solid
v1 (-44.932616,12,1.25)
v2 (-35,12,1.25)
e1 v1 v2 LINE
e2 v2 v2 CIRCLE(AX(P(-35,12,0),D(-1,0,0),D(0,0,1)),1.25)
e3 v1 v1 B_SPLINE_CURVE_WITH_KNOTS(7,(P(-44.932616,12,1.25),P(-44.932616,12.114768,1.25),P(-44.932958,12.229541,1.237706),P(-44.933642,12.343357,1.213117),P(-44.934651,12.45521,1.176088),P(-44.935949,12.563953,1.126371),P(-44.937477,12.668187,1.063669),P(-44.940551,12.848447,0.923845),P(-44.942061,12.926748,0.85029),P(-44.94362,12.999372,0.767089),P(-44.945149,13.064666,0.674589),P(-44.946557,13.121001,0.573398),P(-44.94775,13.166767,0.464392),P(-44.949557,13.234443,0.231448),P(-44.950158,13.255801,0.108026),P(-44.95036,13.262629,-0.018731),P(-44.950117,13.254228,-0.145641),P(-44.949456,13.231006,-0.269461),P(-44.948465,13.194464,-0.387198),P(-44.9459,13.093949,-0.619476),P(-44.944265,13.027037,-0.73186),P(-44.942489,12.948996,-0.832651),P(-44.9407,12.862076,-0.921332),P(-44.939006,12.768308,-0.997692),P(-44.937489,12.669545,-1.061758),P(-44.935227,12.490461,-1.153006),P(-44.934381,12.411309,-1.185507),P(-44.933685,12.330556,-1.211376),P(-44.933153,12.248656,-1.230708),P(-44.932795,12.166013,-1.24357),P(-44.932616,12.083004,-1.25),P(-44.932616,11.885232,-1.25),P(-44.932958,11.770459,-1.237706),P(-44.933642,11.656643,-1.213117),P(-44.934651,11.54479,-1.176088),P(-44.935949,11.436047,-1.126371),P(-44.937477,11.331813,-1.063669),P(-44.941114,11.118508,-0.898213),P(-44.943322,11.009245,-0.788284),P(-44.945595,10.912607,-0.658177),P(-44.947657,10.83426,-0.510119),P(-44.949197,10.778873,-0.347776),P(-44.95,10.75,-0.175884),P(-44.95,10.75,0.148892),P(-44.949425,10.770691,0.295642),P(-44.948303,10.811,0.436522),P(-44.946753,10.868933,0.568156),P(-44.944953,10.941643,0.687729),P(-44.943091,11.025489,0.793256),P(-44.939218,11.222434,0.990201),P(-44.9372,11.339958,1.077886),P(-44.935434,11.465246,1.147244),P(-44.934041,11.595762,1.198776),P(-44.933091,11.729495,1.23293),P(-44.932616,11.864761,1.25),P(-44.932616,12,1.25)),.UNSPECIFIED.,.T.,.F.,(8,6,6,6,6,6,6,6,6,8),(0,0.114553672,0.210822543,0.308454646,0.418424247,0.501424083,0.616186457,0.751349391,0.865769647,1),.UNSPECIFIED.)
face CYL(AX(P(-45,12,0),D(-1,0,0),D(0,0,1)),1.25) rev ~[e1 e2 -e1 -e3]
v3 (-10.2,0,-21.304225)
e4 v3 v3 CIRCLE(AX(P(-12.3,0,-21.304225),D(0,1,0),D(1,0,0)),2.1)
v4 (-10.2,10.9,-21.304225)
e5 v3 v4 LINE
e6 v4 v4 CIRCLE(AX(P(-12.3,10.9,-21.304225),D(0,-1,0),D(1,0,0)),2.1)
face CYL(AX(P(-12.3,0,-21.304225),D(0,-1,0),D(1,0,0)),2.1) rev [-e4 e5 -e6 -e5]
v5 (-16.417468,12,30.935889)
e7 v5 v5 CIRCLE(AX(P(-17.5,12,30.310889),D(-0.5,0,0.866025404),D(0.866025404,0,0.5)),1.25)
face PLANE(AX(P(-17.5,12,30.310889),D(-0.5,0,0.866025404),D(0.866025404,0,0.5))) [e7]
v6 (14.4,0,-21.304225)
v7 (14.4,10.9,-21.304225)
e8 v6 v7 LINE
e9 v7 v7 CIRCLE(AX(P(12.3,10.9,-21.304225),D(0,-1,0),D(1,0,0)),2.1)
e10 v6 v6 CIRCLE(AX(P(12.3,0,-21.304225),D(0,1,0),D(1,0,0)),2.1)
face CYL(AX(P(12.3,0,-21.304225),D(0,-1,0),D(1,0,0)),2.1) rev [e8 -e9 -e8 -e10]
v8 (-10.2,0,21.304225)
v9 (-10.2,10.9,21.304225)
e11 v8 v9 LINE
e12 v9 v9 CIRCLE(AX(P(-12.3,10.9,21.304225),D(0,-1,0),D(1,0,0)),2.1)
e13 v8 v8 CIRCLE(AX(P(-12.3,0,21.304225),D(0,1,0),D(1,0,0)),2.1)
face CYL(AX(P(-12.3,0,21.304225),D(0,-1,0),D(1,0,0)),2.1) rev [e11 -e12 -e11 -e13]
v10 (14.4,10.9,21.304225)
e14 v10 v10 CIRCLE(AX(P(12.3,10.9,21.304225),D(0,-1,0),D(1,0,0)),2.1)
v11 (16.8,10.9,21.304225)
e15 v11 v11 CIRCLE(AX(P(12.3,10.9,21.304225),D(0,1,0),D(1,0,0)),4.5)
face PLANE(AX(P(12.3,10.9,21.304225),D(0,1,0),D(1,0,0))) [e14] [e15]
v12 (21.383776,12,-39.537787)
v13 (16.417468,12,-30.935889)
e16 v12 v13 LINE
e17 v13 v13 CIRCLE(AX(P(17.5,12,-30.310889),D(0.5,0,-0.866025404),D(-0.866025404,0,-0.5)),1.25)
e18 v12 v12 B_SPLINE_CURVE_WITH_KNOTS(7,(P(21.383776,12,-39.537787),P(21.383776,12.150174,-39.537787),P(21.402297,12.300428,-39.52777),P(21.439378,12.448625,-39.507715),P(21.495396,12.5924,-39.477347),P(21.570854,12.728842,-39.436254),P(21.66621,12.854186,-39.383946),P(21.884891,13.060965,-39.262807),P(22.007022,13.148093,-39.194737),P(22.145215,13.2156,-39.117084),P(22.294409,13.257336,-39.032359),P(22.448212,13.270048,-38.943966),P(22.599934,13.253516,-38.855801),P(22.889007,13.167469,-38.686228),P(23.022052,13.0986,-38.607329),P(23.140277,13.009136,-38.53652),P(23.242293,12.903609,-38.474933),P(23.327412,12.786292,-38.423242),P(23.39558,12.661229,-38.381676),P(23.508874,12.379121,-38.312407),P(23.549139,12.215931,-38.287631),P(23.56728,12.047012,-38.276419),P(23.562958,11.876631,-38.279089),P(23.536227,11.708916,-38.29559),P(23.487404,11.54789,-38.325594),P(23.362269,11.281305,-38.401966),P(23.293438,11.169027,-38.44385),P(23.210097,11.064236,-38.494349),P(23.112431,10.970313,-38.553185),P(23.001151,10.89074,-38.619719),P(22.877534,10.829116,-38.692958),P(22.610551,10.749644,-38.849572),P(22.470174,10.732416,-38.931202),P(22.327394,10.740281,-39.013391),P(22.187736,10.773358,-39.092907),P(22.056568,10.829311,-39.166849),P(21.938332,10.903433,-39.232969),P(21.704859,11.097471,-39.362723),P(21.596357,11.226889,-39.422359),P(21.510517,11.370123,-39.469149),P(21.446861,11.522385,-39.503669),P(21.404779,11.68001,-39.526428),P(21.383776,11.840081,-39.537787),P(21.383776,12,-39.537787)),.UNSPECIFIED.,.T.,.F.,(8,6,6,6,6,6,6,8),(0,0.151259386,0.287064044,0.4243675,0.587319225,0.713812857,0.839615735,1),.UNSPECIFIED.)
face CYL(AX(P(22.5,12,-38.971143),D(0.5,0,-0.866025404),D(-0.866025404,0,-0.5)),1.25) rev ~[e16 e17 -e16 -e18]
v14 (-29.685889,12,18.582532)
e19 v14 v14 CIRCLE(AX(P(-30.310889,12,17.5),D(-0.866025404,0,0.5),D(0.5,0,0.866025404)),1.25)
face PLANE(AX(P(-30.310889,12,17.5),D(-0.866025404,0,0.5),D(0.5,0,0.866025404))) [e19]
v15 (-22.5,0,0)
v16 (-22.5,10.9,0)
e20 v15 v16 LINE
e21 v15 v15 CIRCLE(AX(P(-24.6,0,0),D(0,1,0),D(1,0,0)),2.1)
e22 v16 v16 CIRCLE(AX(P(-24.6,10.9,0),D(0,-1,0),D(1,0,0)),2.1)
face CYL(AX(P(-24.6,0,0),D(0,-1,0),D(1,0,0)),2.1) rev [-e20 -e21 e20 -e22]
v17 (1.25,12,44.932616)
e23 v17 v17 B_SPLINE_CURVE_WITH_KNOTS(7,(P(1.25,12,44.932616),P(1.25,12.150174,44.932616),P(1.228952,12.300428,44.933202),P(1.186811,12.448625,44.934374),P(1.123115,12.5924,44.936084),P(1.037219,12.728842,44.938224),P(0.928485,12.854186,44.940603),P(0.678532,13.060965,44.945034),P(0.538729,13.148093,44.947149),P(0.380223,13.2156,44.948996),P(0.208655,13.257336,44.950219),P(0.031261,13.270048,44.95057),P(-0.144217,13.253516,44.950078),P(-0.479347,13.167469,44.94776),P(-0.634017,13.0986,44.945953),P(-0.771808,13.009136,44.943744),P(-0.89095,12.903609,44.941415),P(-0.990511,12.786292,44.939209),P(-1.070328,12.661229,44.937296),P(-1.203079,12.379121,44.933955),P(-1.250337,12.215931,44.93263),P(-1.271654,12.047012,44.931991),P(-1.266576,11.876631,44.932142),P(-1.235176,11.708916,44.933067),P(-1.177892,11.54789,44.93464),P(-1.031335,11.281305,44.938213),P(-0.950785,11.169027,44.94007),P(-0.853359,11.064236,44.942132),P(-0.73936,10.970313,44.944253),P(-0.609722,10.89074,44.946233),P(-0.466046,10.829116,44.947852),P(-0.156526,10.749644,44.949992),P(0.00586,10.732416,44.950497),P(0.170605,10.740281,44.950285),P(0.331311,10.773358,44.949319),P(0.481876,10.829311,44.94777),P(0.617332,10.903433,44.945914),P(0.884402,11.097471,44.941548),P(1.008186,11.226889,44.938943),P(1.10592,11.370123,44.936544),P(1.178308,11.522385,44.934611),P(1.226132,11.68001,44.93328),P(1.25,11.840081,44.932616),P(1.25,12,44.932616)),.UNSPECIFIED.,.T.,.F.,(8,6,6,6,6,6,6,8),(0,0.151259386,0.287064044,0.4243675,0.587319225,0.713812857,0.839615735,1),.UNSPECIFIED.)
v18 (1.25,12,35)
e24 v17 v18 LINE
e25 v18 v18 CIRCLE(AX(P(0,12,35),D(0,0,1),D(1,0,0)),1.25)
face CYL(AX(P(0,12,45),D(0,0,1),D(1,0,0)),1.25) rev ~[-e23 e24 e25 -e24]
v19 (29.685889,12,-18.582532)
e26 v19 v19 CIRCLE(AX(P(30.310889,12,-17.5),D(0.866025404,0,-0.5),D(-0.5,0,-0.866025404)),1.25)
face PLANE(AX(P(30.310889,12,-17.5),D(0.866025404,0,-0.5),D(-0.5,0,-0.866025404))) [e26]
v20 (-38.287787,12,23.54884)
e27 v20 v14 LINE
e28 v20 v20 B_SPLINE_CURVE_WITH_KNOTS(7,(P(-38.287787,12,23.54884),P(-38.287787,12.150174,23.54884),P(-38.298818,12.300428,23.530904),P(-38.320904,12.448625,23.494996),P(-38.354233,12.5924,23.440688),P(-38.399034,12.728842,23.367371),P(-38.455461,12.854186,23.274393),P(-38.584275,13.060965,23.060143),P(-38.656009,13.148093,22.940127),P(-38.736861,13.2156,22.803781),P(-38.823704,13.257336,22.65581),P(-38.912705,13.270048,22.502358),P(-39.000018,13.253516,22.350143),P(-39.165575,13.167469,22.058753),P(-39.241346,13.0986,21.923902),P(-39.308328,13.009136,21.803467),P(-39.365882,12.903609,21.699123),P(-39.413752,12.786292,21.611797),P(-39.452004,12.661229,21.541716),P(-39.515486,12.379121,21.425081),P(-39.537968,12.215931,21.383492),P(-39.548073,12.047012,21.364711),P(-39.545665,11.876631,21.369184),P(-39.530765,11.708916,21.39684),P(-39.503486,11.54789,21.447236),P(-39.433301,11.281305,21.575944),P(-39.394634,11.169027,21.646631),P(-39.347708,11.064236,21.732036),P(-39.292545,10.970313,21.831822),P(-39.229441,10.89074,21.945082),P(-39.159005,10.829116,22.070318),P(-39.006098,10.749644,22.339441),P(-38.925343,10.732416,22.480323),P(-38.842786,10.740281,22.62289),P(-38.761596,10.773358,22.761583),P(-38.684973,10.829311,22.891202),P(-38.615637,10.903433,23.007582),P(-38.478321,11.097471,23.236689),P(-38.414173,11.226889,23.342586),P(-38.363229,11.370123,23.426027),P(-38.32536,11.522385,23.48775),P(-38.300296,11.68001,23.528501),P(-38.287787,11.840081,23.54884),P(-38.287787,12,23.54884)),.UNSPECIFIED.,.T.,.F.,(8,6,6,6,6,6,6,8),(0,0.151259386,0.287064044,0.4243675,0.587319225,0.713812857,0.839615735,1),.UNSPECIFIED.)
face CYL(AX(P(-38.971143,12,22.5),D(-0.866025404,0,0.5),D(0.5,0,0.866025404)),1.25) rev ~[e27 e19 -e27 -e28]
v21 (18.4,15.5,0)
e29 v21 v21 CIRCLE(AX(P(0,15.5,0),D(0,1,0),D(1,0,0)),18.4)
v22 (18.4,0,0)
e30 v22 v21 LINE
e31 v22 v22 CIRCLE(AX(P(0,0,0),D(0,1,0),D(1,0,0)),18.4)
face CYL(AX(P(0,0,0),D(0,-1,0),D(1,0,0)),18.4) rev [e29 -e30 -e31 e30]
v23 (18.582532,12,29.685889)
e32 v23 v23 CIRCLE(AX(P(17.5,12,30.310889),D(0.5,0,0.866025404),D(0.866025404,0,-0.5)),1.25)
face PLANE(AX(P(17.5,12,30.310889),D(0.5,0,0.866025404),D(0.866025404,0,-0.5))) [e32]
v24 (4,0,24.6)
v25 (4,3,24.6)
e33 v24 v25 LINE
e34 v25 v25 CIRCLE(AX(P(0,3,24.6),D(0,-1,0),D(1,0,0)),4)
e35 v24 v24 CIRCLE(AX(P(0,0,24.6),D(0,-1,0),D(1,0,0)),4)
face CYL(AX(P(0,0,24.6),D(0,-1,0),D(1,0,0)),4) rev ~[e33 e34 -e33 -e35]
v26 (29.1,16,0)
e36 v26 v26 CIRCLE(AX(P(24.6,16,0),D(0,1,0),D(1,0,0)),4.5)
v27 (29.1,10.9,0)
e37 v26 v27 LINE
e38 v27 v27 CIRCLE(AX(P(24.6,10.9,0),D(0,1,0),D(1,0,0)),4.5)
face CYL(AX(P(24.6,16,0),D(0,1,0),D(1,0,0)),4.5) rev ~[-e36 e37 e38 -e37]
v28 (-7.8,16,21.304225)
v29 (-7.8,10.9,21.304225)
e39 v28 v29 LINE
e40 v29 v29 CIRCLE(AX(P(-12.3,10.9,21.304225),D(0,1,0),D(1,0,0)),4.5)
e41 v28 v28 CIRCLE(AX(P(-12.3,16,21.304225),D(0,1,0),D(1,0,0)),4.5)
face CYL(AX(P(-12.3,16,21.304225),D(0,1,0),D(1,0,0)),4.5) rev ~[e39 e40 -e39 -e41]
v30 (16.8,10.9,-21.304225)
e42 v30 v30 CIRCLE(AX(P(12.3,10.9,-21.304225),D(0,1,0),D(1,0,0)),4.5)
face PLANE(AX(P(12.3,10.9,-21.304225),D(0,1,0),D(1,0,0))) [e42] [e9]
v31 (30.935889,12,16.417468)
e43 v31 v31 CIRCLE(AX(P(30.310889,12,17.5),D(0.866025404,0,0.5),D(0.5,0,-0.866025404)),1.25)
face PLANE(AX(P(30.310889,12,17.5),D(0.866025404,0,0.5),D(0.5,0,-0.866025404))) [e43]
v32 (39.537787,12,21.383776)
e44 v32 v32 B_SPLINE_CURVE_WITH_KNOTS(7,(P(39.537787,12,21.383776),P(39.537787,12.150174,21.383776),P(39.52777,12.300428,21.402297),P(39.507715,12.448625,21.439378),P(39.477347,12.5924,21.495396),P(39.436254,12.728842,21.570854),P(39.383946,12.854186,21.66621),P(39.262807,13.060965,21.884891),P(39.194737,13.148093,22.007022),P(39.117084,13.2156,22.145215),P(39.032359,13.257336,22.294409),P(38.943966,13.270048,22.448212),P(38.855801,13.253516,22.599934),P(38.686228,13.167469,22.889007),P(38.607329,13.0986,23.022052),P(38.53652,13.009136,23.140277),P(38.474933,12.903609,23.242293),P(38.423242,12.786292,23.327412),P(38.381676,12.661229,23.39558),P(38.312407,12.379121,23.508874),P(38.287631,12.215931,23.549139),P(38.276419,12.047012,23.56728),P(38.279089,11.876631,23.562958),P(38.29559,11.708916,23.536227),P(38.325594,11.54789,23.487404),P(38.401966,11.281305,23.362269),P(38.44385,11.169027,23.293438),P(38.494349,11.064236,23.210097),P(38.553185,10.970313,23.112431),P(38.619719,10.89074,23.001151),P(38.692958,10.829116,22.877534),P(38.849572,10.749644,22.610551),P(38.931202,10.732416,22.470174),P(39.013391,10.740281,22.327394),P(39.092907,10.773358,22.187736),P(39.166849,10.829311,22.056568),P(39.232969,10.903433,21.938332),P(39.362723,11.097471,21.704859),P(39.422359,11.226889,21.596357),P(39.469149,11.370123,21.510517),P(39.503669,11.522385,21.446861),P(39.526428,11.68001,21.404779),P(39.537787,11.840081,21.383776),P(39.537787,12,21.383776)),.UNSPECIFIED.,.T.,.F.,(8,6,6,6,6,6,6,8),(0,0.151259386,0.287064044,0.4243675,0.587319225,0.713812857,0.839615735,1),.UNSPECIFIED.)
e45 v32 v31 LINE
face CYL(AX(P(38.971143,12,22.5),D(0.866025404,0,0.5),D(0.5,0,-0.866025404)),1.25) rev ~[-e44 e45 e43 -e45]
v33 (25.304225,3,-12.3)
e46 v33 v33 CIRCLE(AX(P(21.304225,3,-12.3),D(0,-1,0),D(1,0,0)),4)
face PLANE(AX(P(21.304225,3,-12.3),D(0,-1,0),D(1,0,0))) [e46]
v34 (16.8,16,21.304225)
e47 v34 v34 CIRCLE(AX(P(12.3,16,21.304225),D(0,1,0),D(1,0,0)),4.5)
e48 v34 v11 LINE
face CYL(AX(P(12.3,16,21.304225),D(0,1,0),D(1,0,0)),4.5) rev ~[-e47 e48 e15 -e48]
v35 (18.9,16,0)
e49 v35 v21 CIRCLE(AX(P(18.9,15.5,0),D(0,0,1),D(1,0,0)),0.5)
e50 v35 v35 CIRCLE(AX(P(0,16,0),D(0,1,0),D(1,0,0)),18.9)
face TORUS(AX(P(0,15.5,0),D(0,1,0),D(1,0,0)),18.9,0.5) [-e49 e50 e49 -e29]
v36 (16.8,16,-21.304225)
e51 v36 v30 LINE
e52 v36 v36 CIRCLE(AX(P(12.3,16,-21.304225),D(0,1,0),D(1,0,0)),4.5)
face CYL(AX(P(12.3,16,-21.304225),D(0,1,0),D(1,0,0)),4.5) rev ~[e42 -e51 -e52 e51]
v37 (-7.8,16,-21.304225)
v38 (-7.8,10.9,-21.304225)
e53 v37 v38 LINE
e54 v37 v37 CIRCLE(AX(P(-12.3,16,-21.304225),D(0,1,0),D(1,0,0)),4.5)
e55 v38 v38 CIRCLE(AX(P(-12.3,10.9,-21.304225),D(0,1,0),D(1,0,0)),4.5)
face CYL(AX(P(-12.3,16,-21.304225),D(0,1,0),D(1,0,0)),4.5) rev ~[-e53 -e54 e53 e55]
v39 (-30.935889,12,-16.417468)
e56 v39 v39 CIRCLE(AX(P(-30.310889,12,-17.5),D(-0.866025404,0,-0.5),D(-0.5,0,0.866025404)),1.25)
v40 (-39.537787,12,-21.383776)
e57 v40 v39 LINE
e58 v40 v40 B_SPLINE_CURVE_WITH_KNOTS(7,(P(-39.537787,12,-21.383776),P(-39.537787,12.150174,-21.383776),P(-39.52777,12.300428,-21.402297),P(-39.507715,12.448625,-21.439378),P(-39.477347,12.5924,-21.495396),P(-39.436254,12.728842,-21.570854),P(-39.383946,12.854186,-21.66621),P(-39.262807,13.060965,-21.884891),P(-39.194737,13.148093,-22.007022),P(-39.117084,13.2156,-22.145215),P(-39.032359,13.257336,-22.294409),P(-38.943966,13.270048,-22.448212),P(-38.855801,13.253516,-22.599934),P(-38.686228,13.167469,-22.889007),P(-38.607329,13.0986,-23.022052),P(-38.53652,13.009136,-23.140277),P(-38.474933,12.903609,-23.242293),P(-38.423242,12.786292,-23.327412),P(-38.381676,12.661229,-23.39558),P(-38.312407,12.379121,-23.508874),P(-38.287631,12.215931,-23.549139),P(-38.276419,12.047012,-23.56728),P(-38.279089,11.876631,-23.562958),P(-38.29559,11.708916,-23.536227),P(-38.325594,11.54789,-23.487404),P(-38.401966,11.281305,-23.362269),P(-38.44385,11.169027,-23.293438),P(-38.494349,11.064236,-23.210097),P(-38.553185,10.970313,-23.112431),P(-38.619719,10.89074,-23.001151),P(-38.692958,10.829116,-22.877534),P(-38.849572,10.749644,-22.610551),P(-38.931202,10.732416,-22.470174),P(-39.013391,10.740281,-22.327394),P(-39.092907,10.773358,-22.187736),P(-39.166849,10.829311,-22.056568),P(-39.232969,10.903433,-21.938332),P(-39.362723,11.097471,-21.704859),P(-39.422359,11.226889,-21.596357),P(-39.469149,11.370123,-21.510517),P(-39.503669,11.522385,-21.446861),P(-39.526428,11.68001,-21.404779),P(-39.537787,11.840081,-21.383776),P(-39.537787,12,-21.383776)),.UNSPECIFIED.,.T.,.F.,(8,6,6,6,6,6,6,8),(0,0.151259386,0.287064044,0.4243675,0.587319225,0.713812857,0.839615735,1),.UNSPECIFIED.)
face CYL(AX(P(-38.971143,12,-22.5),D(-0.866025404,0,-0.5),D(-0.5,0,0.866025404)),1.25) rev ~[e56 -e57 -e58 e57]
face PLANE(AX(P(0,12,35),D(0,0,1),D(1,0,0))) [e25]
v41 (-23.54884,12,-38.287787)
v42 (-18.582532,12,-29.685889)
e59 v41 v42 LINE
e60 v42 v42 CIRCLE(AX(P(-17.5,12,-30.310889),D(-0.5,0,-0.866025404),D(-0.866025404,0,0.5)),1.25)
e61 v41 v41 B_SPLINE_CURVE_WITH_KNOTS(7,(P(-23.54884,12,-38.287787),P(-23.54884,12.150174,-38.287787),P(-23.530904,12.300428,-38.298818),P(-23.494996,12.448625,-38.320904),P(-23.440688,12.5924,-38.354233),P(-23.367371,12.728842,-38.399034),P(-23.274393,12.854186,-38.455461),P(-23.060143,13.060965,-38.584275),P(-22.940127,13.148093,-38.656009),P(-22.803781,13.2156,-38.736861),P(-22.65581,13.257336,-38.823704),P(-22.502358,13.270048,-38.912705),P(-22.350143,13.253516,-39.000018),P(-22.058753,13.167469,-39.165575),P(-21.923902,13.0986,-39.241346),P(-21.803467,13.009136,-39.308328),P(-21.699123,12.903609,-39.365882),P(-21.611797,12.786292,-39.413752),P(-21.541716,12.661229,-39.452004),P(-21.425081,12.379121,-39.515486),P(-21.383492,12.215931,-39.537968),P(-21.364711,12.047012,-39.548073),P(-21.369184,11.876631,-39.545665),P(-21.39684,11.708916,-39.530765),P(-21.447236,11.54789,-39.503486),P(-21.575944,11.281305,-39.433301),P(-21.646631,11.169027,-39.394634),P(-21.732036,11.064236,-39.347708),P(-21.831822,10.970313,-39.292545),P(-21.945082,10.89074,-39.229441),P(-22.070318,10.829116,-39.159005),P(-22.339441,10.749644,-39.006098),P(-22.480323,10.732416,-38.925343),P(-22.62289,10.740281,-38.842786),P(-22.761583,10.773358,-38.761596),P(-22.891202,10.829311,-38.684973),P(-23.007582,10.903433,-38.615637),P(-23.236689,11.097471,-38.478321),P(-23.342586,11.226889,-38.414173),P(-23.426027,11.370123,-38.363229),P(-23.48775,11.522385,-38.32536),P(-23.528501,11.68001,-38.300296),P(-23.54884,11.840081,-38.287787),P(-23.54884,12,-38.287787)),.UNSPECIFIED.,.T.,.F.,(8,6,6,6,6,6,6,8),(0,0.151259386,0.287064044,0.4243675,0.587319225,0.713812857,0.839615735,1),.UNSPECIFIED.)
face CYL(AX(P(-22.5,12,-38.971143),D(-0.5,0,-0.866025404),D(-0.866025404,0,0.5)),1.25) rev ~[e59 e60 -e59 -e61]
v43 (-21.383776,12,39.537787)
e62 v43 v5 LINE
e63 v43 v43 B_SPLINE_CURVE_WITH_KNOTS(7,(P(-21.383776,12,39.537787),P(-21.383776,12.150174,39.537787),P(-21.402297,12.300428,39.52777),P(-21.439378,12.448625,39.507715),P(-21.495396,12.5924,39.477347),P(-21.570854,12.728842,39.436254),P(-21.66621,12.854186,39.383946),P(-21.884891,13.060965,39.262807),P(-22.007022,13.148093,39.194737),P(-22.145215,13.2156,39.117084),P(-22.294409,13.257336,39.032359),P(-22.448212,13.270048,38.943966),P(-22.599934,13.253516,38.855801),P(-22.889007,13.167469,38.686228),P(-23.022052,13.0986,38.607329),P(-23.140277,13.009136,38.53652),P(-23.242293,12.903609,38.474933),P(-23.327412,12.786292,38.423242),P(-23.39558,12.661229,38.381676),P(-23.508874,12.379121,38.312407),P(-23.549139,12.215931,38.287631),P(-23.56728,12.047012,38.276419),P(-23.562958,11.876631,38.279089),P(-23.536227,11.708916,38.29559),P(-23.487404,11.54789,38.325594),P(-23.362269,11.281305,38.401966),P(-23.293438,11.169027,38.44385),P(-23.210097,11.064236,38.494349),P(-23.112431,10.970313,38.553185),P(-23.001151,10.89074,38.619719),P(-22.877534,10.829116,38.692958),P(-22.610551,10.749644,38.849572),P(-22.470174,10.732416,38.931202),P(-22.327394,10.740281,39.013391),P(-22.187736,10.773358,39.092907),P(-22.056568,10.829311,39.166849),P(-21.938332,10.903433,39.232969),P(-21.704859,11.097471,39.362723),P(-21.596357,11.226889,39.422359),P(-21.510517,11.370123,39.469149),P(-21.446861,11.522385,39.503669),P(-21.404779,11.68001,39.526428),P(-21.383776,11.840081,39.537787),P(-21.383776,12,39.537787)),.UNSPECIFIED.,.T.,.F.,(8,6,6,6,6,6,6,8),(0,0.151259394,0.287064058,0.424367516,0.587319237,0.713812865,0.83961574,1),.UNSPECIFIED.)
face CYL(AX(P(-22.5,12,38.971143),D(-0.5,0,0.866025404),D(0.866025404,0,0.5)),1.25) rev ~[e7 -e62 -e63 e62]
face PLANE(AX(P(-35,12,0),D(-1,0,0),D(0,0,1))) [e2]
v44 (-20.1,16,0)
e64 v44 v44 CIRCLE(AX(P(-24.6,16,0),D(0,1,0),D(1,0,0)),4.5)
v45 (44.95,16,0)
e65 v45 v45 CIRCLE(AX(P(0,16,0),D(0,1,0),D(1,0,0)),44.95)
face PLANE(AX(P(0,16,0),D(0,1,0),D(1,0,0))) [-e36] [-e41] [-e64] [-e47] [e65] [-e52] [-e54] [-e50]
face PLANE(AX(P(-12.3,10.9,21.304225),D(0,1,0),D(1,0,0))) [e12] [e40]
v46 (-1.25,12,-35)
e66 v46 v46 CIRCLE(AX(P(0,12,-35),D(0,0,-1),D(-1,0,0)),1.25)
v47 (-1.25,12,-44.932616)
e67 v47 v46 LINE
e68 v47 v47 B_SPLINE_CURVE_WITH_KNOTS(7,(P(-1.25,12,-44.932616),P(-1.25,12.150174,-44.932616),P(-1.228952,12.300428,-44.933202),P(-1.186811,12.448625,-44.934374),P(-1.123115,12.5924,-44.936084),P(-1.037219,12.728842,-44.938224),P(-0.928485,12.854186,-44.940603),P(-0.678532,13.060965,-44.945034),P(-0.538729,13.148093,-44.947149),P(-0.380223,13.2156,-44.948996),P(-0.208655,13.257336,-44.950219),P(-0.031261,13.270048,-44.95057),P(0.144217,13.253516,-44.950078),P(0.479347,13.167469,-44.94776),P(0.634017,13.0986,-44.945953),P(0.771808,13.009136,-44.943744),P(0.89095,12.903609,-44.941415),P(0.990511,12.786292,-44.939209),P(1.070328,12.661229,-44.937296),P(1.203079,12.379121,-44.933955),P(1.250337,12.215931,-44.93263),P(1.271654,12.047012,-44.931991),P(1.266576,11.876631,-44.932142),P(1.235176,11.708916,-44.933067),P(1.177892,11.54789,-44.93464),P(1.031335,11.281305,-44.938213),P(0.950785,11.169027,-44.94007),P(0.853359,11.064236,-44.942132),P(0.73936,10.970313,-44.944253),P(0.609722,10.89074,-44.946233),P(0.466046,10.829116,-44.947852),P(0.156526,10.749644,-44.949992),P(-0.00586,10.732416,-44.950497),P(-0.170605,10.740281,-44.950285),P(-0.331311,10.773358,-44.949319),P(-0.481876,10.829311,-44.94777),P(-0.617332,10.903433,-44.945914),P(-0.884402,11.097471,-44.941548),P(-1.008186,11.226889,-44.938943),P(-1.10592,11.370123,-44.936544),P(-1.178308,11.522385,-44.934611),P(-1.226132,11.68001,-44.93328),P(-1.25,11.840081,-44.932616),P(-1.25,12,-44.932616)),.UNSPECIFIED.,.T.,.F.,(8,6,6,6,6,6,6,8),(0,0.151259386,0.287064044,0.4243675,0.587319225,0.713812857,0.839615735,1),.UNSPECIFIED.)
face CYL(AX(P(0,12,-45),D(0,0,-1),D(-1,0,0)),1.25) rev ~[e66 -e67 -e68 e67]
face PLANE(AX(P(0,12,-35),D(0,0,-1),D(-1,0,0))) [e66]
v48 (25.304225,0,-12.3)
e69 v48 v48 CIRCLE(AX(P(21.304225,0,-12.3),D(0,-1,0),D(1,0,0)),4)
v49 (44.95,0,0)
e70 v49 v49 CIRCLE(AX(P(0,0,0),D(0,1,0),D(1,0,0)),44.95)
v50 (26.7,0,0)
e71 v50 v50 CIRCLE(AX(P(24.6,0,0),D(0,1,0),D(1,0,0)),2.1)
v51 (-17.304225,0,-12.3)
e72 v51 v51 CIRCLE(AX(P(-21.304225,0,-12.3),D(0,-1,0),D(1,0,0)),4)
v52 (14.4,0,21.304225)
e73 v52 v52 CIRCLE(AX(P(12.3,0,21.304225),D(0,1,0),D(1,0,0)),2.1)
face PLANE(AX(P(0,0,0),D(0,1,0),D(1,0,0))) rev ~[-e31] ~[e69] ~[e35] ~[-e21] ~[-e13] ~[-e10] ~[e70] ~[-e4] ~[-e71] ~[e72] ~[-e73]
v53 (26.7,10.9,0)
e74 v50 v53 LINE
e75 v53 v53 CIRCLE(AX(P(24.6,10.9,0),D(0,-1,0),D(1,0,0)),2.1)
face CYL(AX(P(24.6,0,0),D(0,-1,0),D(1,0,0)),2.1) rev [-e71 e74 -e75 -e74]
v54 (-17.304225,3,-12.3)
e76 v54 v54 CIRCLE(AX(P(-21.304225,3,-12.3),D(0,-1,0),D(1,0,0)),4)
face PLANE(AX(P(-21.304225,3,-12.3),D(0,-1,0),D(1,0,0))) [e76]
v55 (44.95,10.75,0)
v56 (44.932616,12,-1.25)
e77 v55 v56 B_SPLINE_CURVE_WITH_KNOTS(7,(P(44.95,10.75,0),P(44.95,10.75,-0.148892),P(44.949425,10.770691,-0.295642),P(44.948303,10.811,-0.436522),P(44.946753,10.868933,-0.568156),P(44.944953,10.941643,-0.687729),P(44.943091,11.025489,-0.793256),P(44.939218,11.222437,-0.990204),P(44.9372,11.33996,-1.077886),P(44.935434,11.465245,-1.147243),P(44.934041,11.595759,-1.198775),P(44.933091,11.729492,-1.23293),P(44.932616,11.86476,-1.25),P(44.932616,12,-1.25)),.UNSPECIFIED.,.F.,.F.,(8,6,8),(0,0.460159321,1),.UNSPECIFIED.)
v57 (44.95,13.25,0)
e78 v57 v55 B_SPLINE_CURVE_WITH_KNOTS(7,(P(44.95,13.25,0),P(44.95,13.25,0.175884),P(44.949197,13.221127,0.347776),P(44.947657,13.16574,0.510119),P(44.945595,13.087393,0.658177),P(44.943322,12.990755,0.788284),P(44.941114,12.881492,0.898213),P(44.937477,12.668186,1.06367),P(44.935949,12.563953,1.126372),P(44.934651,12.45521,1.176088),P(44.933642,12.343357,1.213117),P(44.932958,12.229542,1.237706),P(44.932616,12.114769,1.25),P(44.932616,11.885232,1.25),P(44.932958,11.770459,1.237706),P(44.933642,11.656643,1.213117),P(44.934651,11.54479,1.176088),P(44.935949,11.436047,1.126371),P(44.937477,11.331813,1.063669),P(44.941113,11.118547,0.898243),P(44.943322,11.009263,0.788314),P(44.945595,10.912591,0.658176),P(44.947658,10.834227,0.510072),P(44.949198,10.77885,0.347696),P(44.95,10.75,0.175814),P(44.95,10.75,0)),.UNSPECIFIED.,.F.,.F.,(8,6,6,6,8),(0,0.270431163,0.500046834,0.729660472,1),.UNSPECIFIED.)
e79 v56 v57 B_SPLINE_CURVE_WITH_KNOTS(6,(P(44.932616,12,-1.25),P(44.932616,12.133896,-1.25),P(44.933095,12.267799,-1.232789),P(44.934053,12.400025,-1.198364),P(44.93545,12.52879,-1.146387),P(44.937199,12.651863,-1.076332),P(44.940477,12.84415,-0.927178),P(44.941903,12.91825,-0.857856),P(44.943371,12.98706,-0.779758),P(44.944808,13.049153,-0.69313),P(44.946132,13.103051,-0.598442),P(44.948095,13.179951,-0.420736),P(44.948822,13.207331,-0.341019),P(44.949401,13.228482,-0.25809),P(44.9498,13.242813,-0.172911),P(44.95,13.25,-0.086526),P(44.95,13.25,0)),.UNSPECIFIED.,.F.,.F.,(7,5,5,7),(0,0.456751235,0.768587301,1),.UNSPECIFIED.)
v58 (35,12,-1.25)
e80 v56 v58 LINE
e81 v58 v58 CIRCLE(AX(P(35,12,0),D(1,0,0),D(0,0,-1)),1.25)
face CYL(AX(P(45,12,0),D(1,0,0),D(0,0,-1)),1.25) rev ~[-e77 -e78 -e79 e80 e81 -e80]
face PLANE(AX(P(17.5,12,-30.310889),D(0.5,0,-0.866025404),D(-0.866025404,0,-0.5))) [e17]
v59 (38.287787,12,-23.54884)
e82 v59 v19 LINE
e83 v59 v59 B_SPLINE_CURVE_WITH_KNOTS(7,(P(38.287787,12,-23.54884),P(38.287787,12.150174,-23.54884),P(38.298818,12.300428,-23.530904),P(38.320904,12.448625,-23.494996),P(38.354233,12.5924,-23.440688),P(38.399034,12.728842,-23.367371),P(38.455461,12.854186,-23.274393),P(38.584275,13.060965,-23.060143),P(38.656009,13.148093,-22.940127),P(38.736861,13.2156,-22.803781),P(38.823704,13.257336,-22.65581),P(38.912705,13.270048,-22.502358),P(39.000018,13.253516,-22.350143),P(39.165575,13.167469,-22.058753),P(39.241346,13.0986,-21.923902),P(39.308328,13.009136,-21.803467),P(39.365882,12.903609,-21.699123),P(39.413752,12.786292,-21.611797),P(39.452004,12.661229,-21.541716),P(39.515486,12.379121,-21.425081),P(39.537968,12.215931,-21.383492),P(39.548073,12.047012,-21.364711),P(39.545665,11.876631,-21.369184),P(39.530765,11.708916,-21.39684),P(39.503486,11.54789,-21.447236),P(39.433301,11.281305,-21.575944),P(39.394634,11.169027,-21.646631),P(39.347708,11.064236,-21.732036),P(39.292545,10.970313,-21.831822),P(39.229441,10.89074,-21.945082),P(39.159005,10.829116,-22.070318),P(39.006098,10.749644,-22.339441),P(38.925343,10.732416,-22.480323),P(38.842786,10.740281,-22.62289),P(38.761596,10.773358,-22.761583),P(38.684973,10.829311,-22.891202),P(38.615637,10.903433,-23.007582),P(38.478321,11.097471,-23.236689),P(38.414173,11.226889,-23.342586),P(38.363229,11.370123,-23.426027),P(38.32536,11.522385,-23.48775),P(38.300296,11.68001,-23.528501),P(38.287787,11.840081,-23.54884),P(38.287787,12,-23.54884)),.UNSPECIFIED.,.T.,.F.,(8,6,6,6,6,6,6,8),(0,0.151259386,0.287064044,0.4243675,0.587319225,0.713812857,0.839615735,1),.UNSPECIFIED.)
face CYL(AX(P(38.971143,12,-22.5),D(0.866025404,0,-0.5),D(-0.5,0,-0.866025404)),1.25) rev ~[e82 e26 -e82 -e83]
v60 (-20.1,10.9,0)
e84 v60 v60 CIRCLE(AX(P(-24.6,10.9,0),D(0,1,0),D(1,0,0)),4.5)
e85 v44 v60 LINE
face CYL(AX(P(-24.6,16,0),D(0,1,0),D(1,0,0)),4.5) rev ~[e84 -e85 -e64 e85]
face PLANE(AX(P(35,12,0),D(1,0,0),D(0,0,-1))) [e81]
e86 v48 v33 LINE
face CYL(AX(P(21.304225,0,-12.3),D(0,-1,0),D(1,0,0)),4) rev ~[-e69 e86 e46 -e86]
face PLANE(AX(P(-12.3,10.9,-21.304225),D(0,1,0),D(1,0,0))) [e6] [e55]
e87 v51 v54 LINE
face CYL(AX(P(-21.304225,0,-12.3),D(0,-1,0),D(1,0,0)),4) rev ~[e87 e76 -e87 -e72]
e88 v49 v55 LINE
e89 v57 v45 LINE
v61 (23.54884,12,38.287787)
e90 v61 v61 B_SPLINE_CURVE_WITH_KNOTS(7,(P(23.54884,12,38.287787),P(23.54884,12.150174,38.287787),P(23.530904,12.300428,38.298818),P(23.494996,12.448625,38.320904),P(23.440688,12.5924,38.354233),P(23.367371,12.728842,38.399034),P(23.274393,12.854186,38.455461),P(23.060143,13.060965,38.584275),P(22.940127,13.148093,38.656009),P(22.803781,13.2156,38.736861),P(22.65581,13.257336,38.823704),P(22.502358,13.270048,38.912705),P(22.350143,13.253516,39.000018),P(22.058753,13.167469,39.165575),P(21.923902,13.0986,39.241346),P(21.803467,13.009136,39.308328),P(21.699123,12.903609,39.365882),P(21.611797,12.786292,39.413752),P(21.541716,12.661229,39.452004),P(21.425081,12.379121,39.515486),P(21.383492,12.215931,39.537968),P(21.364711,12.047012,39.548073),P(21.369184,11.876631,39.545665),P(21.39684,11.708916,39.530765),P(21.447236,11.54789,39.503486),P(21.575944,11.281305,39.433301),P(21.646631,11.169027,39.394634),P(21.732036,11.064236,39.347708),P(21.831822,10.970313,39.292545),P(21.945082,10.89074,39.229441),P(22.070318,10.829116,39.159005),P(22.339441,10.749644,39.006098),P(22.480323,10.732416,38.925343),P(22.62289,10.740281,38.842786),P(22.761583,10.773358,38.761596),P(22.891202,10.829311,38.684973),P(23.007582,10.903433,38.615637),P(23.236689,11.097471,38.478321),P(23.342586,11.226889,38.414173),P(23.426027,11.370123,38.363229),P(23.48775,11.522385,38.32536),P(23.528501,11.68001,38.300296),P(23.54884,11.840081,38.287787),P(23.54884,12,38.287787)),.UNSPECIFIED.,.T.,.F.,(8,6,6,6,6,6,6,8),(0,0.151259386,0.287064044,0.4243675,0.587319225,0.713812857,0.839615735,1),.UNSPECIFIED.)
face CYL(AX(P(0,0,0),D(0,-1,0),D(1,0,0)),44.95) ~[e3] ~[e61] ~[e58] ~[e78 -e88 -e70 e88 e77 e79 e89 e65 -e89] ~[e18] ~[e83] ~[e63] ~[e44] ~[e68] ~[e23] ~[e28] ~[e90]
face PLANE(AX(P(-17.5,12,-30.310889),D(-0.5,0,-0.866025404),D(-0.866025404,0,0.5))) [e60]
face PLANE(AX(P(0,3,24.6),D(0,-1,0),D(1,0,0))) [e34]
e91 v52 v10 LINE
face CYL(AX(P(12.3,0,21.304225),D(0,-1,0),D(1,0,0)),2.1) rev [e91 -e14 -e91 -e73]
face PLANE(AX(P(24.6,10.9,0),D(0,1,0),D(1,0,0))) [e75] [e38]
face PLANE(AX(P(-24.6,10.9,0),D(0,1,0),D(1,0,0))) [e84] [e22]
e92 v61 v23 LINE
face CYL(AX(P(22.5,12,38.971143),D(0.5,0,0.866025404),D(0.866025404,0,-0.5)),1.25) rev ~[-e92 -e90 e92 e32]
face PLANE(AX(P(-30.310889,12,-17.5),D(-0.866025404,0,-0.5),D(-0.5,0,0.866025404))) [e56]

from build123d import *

# Parameters (mm, degrees)
SKETCH_1_R               = 44.95
SKETCH_1_R_2             = 2.1
SKETCH_1_R_3             = 18.4
EXTRUDE_1_DEPTH          = 16
SKETCH_2_R               = 4
CUT_EXTRUDE_1_DEPTH      = 3
SKETCH_4_R               = 4.5
CUT_EXTRUDE_2_DEPTH      = 5.1
SKETCH_5_R               = 1.25
CUT_EXTRUDE_3_DEPTH      = 10
PATTERN_CIRCULAR_1_COUNT = 12
FILLET_1_R               = 0.5


with BuildPart() as part:
    # 草图1 → 凸台-拉伸1 (new body)
    with BuildSketch(Plane(origin=(0, 0, 0), x_dir=(1, 0, 0), z_dir=(0, 1, 0))):
        Circle(SKETCH_1_R)
        with Locations((-24.6, 0)):
            Circle(SKETCH_1_R_2, mode=Mode.SUBTRACT)
        with Locations((-12.3, 21.304224933)):
            Circle(SKETCH_1_R_2, mode=Mode.SUBTRACT)
        with Locations((12.3, 21.304224933)):
            Circle(SKETCH_1_R_2, mode=Mode.SUBTRACT)
        with Locations((24.6, 0)):
            Circle(SKETCH_1_R_2, mode=Mode.SUBTRACT)
        with Locations((12.3, -21.304224933)):
            Circle(SKETCH_1_R_2, mode=Mode.SUBTRACT)
        with Locations((-12.3, -21.304224933)):
            Circle(SKETCH_1_R_2, mode=Mode.SUBTRACT)
        Circle(SKETCH_1_R_3, mode=Mode.SUBTRACT)
    extrude(amount=EXTRUDE_1_DEPTH)

    # 草图2 → 切除-拉伸1 (cut)
    with BuildSketch(Plane.XZ):
        with Locations((-21.304224933, -12.3)):
            Circle(SKETCH_2_R)
        with Locations((0, 24.6)):
            Circle(SKETCH_2_R)
        with Locations((21.304224933, -12.3)):
            Circle(SKETCH_2_R)
    extrude(amount=-CUT_EXTRUDE_1_DEPTH, mode=Mode.SUBTRACT)

    # 草图4 → 切除-拉伸2 (cut)
    with BuildSketch(Plane(origin=(0, 16, 0), x_dir=(1, 0, 0), z_dir=(0, 1, 0))):
        with Locations((-24.6, 0)):
            Circle(SKETCH_4_R)
        with Locations((-12.3, 21.304224933)):
            Circle(SKETCH_4_R)
        with Locations((12.3, 21.304224933)):
            Circle(SKETCH_4_R)
        with Locations((24.6, 0)):
            Circle(SKETCH_4_R)
        with Locations((12.3, -21.304224933)):
            Circle(SKETCH_4_R)
        with Locations((-12.3, -21.304224933)):
            Circle(SKETCH_4_R)
    extrude(amount=-CUT_EXTRUDE_2_DEPTH, mode=Mode.SUBTRACT)

    # 草图5 → 切除-拉伸3 (cut)
    with BuildSketch(Plane(origin=(45, 0, 0), x_dir=(0, 0, -1), z_dir=(1, 0, 0))):
        with Locations((0, 12)):
            Circle(SKETCH_5_R)
    cut_extrude_3 = extrude(amount=-CUT_EXTRUDE_3_DEPTH, mode=Mode.SUBTRACT)

    # 阵列(圆周)1: 切除-拉伸3 ×12 about axis
    pattern_circular_1_axis = Axis((0, 0, 0), (0, 1, 0))
    for i in range(1, PATTERN_CIRCULAR_1_COUNT):
        add(cut_extrude_3.rotate(pattern_circular_1_axis, i * 360 / PATTERN_CIRCULAR_1_COUNT), mode=Mode.SUBTRACT)

    # 圆角1
    fillet_1_edges = [part.edges().sort_by_distance(p)[0] for p in [
        (-18.4, 16, 0),
    ]]
    fillet(fillet_1_edges, radius=FILLET_1_R)


solid = part.part
